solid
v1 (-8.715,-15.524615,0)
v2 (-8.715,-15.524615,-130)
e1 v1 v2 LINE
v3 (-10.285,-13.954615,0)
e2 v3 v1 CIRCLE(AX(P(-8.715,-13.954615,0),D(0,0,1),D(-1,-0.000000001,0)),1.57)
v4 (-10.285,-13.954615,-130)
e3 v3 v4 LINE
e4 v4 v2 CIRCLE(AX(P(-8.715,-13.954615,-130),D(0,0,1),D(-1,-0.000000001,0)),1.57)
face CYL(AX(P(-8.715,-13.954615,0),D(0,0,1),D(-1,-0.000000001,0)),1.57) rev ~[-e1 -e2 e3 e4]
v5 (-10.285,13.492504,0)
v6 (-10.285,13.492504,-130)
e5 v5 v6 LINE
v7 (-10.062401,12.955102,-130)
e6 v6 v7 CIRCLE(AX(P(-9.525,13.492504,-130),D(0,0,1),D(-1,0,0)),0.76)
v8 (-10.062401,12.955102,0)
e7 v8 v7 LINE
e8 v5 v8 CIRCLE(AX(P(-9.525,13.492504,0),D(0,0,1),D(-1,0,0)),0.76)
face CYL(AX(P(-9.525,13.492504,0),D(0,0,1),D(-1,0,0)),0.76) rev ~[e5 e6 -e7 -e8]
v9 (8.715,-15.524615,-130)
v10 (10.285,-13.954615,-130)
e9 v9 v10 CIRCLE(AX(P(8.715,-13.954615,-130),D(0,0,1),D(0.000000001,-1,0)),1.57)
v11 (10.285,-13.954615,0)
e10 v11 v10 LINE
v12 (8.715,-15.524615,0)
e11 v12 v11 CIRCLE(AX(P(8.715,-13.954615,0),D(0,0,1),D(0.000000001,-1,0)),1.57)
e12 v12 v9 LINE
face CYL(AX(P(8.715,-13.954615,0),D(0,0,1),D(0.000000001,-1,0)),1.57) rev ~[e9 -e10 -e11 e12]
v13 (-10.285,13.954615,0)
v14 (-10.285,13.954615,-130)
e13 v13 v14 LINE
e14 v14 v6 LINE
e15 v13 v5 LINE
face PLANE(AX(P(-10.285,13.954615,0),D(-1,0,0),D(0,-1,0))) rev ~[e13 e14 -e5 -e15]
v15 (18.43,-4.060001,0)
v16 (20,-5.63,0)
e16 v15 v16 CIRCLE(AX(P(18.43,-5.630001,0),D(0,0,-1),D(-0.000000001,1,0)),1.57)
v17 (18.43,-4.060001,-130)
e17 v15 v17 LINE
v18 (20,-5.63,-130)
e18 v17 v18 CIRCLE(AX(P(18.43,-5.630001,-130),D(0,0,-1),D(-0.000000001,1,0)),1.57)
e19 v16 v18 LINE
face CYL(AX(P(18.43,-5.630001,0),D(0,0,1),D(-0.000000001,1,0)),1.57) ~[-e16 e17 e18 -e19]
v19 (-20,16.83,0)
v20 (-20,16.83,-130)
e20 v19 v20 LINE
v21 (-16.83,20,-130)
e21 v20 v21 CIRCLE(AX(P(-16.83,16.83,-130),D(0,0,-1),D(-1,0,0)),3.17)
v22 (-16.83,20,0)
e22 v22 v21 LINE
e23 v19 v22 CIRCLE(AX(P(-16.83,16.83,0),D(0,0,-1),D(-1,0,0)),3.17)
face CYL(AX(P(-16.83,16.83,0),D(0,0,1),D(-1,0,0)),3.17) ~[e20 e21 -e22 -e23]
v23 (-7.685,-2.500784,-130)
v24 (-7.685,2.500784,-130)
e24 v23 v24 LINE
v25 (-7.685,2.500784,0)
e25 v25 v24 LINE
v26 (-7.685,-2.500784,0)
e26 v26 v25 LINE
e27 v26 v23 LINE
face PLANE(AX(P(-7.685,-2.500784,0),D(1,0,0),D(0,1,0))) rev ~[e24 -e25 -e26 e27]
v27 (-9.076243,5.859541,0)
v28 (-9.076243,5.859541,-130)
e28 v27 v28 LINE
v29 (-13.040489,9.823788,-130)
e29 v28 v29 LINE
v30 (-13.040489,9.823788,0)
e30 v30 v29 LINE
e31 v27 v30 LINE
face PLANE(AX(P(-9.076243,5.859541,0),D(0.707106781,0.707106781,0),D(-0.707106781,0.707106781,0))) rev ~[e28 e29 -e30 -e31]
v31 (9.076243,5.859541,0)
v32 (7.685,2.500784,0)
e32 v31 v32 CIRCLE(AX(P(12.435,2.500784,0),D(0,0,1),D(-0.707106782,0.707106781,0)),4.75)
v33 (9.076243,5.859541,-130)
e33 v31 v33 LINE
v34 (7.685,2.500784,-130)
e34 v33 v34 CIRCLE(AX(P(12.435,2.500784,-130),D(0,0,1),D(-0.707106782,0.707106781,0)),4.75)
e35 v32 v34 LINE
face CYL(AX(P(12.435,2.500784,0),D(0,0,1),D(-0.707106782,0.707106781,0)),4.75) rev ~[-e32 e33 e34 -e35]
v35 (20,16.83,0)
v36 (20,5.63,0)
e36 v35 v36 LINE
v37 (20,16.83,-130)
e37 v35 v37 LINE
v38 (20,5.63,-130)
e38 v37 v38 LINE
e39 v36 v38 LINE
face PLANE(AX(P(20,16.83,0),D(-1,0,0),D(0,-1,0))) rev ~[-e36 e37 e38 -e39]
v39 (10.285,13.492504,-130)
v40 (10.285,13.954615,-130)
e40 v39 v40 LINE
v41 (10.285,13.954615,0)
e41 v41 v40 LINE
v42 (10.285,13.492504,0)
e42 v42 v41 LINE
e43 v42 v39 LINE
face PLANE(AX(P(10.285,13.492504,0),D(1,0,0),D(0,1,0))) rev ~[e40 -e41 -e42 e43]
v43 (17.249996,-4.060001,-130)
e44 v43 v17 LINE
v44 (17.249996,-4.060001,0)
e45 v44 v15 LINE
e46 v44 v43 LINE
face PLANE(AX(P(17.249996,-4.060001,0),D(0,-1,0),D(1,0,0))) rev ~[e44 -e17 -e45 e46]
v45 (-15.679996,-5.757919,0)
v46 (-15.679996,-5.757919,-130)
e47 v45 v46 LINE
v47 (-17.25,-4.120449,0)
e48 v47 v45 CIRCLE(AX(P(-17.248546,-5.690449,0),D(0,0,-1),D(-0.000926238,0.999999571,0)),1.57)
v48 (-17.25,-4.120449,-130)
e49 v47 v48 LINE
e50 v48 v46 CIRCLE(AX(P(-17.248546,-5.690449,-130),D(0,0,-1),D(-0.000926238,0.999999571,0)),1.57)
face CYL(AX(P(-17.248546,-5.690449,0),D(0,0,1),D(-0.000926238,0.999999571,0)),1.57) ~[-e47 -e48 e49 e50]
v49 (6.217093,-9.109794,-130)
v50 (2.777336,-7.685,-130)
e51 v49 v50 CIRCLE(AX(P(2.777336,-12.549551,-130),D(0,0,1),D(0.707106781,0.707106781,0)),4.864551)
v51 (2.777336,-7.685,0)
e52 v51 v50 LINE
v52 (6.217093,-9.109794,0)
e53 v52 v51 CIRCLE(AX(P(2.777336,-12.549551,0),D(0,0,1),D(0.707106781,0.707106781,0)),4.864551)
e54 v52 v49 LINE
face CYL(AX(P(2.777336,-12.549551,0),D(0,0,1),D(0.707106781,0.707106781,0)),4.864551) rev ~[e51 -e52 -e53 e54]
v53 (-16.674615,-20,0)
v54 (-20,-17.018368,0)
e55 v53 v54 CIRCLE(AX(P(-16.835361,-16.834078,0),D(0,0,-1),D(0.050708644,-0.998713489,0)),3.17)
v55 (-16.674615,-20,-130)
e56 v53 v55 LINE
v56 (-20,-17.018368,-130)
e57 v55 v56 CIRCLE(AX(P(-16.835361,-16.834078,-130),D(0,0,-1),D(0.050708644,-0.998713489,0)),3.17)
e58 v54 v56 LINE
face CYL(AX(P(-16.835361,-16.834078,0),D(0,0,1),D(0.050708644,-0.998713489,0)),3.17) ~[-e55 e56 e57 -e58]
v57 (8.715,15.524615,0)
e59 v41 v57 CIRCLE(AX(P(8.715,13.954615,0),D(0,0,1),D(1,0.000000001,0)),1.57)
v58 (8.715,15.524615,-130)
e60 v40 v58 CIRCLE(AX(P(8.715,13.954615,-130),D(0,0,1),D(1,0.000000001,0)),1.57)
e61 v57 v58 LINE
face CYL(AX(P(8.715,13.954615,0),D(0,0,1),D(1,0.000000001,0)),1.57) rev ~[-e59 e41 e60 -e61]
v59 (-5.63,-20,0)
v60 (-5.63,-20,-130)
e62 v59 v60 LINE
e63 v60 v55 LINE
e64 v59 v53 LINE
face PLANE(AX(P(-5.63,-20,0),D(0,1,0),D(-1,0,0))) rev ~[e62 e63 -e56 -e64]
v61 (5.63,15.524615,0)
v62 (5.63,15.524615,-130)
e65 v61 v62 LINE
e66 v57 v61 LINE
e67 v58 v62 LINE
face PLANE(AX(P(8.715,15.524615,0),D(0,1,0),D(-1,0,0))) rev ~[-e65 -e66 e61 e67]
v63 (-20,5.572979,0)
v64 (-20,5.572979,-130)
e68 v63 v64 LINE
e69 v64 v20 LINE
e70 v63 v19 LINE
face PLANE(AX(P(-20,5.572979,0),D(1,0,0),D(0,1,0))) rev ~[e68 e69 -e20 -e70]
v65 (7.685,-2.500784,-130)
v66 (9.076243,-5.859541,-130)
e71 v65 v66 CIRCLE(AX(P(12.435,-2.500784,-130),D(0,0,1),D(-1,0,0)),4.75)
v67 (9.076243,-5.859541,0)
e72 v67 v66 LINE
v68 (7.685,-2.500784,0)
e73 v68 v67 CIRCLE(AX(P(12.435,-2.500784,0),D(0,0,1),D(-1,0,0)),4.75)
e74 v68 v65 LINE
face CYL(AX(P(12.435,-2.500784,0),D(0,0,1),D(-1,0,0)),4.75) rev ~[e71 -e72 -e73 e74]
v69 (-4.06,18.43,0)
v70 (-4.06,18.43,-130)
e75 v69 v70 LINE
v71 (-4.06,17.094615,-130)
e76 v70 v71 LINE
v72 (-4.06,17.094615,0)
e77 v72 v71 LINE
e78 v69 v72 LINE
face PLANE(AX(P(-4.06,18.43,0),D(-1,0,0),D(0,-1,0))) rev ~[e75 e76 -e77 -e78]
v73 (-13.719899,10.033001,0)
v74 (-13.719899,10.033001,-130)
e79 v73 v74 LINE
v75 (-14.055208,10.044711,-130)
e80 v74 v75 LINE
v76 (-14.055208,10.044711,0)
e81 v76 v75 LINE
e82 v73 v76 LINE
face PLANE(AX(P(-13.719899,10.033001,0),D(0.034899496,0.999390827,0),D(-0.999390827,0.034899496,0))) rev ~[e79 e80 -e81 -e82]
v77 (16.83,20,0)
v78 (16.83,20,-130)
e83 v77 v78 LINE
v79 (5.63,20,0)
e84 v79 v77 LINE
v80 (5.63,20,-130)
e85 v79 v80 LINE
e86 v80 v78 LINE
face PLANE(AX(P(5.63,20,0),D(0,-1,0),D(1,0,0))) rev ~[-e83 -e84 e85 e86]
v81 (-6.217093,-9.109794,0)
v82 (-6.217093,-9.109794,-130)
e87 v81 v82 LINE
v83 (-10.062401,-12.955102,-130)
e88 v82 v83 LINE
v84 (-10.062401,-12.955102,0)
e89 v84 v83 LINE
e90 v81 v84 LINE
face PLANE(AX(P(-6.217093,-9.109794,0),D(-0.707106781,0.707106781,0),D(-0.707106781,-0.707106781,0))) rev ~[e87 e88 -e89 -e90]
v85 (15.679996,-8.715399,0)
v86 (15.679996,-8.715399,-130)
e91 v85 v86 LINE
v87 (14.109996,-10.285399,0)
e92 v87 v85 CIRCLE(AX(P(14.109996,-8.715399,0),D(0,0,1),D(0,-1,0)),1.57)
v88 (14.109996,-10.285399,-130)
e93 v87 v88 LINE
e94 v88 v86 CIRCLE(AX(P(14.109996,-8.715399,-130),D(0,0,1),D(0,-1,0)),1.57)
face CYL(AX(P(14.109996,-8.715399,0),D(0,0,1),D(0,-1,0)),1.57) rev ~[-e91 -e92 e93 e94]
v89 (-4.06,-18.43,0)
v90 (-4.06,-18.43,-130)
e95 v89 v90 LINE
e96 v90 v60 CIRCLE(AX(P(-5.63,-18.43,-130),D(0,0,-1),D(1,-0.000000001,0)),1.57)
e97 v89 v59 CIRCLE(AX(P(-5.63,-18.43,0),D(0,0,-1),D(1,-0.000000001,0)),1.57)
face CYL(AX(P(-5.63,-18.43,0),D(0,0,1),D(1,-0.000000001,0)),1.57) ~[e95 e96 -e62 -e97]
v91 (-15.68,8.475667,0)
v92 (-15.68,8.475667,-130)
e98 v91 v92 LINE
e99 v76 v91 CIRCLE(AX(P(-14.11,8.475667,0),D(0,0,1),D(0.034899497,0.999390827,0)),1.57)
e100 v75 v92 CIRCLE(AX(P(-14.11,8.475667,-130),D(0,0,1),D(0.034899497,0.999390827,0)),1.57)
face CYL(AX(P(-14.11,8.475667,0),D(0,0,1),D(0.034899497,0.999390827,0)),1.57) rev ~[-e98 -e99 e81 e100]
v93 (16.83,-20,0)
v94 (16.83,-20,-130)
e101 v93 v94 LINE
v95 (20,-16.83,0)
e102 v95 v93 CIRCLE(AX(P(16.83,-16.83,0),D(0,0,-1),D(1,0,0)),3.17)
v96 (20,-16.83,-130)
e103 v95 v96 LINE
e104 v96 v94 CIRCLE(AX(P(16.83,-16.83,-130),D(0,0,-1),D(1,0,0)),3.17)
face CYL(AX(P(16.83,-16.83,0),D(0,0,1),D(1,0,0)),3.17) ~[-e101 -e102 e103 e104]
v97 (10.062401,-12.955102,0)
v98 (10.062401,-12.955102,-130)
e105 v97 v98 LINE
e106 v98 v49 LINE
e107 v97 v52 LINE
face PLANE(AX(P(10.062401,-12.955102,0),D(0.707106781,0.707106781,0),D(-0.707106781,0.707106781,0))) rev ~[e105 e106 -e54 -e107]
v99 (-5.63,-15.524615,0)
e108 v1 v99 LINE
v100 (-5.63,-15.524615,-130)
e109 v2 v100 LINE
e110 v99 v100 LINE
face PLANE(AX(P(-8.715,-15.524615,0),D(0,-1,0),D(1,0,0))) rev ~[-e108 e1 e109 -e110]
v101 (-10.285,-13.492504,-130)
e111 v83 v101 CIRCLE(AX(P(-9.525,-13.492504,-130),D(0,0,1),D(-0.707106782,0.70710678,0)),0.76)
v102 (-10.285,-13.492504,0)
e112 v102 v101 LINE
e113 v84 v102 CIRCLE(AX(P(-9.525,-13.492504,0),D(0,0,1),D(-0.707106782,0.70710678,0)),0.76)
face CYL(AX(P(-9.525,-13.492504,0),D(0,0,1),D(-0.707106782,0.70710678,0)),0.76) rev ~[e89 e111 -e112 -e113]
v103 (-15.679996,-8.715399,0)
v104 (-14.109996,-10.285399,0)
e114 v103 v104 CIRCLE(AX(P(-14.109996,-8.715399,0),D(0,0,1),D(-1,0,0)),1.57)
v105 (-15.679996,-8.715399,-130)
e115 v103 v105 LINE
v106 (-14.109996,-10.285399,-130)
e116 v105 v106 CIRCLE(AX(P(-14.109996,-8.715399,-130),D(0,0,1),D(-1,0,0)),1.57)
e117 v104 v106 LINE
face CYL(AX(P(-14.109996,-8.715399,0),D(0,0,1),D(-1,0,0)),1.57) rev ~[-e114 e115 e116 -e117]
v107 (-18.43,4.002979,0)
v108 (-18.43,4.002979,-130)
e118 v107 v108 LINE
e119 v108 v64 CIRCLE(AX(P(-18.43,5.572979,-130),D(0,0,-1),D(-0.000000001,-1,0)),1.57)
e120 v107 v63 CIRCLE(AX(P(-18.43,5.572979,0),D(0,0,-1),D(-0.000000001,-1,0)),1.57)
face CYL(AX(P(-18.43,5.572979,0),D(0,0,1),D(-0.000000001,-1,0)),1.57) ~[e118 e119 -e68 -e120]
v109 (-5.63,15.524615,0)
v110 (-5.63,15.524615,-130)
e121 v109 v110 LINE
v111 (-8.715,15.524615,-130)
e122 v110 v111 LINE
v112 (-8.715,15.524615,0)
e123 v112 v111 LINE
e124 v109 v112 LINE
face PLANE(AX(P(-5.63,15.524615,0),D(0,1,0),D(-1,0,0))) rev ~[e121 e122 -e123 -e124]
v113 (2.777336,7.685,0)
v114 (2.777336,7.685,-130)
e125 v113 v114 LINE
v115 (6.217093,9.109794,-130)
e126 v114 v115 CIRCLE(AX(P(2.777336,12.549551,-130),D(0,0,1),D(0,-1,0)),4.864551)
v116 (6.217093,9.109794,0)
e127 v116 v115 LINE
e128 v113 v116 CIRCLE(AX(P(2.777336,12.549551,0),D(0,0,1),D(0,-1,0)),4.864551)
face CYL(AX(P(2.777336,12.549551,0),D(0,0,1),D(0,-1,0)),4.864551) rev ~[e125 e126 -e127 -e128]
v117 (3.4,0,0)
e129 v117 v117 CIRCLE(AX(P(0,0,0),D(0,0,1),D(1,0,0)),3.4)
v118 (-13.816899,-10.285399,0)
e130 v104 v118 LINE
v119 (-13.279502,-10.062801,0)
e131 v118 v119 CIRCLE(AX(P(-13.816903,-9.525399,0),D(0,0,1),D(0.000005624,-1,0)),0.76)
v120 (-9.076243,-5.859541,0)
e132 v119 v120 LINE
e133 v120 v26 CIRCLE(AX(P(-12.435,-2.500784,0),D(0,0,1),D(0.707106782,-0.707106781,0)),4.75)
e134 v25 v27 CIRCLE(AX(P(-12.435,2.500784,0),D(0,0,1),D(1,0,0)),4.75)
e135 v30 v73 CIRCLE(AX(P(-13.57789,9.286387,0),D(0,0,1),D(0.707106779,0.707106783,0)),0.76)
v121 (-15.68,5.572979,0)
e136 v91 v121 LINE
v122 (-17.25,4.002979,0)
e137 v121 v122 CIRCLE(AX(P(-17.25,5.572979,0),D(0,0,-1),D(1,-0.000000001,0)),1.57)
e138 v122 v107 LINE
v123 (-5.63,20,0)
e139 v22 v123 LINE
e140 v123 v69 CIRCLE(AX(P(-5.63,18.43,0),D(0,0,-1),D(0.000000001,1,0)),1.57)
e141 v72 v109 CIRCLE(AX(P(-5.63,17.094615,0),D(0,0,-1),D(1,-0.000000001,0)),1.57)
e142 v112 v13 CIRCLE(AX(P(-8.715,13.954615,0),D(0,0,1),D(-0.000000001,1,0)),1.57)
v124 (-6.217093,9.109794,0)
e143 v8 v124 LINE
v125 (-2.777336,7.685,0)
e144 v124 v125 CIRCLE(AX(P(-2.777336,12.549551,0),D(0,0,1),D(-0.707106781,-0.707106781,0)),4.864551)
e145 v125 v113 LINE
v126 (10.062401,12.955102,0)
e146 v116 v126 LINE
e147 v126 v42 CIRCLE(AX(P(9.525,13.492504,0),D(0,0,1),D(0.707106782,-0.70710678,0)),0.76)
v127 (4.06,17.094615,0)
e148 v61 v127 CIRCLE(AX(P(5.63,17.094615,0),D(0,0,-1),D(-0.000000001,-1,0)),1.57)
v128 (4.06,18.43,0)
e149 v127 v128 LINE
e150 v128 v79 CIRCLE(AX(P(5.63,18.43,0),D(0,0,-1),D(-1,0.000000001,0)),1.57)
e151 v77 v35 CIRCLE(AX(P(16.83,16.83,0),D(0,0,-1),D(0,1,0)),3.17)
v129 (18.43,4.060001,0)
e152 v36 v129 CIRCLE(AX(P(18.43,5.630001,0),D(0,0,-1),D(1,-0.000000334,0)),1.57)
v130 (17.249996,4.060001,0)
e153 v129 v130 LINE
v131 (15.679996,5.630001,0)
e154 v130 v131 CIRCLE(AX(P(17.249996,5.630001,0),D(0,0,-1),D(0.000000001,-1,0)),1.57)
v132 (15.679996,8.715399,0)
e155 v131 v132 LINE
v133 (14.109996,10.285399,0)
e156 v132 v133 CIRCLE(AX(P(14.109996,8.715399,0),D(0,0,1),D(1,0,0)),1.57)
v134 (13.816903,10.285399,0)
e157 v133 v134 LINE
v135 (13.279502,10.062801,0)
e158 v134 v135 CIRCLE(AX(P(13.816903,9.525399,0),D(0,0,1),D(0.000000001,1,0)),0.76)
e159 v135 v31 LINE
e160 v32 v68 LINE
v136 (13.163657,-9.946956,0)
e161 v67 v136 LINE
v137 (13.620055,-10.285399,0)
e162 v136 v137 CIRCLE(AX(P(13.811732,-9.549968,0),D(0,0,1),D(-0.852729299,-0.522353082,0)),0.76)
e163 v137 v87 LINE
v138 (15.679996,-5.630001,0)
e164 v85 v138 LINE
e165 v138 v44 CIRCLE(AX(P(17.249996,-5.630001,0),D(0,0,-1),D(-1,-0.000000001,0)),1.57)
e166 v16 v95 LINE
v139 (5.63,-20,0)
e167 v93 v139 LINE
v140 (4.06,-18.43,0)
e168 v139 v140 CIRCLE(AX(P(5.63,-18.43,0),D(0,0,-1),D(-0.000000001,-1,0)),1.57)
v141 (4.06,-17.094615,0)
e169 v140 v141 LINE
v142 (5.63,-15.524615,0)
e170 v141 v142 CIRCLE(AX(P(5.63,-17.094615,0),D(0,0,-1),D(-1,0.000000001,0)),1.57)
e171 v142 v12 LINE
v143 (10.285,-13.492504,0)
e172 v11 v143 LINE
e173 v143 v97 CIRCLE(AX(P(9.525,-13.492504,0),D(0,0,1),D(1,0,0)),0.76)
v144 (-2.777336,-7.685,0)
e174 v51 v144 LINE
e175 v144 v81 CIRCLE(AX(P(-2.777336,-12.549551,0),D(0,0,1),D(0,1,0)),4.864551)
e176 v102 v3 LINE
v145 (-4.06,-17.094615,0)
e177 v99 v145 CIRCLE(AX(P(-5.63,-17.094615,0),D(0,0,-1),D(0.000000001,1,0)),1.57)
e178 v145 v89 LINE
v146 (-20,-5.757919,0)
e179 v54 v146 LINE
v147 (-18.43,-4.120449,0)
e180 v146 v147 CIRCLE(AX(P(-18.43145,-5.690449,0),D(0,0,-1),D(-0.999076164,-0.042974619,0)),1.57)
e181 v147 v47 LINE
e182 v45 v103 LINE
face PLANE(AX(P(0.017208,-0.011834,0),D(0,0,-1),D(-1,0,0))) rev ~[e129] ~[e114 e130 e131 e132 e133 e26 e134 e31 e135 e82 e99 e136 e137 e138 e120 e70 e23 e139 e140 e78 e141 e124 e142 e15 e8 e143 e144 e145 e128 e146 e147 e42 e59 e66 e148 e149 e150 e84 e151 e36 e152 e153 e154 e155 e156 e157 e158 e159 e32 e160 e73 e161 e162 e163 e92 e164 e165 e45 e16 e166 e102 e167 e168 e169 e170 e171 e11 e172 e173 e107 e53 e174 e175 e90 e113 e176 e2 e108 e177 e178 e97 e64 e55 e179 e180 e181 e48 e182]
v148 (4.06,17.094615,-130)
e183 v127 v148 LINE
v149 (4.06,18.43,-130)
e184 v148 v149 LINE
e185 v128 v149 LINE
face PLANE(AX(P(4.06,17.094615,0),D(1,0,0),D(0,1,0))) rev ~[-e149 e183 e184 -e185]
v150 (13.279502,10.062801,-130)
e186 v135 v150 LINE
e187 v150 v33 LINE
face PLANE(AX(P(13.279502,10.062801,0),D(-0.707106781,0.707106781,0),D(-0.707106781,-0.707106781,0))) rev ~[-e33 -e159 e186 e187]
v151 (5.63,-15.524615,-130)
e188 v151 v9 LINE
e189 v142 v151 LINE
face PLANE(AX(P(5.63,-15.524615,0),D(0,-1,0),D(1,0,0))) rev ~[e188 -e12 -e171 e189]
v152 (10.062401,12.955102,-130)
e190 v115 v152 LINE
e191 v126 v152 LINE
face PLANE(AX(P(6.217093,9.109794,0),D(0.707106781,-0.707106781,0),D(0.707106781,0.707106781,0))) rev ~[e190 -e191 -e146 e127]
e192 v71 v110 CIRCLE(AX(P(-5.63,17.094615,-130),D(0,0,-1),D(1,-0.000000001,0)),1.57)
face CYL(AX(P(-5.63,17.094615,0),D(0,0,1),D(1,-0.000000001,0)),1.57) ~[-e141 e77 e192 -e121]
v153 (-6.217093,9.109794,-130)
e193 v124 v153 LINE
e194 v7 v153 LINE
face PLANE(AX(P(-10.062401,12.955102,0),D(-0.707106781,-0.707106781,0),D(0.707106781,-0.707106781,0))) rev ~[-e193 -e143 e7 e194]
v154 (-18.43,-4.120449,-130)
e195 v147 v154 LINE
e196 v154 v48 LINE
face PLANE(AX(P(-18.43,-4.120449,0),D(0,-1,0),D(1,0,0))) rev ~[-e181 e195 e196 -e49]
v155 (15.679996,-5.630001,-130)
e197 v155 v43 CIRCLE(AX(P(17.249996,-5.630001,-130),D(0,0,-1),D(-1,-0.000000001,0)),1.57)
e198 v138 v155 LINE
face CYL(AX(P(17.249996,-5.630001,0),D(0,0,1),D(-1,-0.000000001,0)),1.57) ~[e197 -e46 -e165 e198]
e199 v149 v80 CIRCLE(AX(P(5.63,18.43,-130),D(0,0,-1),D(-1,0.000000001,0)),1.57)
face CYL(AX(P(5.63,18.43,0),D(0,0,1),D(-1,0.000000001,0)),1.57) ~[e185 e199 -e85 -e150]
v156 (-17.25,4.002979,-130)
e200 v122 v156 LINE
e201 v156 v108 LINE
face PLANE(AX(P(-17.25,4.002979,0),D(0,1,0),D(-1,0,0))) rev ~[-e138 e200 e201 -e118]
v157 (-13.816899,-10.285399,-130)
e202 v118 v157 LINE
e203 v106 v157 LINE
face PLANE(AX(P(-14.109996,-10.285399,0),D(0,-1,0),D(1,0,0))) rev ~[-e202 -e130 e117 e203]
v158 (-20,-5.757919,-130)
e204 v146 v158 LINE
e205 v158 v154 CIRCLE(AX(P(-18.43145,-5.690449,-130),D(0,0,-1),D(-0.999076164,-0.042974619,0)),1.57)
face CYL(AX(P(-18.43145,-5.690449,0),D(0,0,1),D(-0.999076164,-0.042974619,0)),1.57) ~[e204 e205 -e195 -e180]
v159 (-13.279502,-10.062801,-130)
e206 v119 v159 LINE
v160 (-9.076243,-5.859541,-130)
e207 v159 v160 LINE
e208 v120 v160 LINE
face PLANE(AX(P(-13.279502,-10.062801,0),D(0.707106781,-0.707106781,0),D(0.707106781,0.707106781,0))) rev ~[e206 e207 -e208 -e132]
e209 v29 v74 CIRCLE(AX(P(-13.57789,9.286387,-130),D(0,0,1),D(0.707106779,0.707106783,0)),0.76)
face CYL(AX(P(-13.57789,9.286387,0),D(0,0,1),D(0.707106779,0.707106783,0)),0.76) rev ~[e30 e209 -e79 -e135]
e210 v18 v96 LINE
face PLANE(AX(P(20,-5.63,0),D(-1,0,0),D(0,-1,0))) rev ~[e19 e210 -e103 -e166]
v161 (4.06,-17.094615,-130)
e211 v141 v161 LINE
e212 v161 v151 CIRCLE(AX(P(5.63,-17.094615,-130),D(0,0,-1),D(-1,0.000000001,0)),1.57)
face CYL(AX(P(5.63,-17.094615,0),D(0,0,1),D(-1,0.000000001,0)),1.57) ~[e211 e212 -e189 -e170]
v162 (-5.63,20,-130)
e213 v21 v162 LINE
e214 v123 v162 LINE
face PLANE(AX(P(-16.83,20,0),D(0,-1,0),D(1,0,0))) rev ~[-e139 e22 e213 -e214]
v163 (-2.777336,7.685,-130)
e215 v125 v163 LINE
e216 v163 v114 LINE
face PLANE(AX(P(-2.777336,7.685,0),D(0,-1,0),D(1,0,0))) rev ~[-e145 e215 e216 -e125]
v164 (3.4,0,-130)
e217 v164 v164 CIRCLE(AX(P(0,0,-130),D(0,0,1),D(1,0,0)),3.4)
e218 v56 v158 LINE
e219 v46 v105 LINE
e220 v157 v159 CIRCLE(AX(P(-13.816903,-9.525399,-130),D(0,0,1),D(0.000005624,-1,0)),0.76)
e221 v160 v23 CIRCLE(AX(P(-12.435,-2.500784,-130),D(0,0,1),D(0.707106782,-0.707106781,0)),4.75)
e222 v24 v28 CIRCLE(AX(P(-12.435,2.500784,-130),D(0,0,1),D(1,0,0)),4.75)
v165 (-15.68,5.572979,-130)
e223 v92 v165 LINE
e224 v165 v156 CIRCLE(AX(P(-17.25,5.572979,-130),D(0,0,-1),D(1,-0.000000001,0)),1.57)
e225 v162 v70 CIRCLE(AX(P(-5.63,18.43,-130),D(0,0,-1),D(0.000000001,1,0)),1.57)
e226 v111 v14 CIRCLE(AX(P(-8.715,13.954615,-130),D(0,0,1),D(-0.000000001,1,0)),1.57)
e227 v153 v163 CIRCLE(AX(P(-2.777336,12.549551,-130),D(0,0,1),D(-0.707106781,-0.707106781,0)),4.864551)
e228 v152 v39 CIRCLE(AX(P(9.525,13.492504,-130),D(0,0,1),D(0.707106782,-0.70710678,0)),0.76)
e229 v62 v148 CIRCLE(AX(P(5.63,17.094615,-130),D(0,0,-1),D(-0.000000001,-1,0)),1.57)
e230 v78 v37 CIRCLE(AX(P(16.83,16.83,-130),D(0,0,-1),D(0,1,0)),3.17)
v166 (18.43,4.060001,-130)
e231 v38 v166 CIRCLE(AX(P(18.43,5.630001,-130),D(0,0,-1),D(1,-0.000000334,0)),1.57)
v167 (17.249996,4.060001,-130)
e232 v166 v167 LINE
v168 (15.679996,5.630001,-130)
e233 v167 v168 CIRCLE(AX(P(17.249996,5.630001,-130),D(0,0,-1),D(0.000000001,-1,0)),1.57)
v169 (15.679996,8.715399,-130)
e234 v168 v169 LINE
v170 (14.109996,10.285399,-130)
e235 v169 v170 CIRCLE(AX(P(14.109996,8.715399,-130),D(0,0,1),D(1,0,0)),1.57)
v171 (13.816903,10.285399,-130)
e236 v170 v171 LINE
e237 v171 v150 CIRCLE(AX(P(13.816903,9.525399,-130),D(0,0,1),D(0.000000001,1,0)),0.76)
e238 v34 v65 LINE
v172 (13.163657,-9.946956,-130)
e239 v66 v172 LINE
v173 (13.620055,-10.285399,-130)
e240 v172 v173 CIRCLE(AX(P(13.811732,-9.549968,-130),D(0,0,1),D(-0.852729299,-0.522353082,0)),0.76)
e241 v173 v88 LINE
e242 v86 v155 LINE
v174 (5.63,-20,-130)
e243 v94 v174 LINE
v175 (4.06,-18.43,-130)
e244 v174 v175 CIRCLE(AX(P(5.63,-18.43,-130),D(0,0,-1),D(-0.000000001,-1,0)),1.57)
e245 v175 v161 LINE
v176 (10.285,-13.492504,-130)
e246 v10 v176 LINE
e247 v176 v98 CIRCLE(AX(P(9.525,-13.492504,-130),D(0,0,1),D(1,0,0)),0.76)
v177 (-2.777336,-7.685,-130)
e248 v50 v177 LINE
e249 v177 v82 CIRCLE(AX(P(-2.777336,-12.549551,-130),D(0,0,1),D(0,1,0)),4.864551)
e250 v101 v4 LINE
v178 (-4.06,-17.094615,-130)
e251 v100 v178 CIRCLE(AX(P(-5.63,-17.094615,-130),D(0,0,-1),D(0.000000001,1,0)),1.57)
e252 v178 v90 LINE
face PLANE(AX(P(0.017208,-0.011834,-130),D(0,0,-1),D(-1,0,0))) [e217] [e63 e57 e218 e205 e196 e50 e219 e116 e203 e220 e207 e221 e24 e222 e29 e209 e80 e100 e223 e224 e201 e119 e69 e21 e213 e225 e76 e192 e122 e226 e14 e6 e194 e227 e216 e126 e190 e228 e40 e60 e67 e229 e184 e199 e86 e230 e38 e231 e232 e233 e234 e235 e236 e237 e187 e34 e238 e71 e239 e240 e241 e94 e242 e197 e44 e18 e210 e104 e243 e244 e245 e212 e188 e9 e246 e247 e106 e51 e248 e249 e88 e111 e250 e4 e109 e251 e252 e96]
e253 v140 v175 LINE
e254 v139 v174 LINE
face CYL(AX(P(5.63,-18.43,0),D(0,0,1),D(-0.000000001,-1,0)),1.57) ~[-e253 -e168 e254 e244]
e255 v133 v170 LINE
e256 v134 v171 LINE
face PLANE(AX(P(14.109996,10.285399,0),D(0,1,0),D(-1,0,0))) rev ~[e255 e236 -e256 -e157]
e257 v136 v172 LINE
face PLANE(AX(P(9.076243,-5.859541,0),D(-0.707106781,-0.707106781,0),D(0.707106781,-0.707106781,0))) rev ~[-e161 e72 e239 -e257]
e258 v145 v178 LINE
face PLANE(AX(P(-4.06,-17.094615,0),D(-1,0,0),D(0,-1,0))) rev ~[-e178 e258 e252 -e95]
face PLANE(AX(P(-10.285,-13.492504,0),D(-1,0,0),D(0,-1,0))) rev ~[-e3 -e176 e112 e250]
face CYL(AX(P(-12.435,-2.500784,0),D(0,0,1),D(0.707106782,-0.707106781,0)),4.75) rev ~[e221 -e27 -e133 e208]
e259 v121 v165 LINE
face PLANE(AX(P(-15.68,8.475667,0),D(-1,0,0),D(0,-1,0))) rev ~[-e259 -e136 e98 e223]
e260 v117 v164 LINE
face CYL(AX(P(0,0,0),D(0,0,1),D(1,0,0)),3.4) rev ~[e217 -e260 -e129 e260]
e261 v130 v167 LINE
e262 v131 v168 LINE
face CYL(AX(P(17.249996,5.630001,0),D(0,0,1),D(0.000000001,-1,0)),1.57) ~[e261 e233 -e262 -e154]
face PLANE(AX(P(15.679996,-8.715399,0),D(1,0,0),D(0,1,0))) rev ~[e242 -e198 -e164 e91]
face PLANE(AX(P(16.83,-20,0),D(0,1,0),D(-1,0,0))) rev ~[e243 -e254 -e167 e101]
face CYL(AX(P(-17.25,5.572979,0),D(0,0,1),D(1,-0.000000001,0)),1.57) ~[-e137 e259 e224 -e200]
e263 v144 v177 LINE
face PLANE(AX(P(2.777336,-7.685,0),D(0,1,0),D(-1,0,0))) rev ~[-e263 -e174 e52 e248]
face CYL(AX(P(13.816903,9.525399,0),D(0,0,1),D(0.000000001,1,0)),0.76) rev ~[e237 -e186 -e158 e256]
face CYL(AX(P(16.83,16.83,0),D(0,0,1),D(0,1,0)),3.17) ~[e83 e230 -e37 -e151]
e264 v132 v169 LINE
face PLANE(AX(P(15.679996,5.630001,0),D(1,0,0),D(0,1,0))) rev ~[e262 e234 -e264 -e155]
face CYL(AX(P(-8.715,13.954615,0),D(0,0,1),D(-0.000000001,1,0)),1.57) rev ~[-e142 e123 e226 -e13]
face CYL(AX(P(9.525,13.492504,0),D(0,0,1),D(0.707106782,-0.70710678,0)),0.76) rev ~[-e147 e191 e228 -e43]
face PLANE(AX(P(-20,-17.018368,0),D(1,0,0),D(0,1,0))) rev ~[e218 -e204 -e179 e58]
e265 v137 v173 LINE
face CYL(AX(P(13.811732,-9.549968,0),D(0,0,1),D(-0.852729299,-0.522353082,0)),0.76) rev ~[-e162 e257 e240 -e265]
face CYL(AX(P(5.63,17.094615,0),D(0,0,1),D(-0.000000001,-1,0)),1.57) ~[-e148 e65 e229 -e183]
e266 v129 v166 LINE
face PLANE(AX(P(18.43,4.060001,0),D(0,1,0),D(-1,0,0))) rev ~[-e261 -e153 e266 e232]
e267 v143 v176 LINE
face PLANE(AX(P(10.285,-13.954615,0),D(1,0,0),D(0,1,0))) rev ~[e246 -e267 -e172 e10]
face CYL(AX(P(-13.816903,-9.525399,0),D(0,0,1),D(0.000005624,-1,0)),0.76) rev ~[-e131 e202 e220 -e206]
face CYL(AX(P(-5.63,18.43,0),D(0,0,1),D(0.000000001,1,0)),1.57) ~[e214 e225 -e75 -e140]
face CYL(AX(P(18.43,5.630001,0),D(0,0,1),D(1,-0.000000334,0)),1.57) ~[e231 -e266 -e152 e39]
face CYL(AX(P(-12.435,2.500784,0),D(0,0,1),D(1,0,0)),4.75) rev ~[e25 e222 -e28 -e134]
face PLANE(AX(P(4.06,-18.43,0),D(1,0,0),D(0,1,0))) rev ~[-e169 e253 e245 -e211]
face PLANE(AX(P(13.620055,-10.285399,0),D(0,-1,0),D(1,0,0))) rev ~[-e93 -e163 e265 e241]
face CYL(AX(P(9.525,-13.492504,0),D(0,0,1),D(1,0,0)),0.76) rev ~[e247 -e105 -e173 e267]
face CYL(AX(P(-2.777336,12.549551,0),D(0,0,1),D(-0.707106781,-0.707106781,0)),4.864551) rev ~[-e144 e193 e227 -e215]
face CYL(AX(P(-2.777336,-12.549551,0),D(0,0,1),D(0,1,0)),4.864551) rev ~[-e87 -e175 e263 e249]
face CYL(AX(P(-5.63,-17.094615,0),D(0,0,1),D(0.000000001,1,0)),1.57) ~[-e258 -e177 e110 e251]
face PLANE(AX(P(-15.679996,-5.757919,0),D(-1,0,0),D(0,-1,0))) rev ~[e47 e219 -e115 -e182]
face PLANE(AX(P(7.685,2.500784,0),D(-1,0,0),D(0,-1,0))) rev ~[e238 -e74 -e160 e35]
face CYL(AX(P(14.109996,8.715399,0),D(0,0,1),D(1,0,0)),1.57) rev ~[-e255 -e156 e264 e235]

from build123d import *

# Parameters (mm, degrees)
SKETCH1_R      = 3.4
EXTRUDE1_DEPTH = 130


with BuildPart() as part:
    # Sketch1 → Extrude1 (new body)
    with BuildSketch(Plane.XY):
        with BuildLine():
            Line((-8.715, -15.524615034), (-5.63, -15.524615034))
            ThreePointArc((-5.63, -15.524615034), (-4.519842354, -15.984457388), (-4.06, -17.094615034))
            Line((-4.06, -17.094615034), (-4.06, -18.43))
            ThreePointArc((-4.06, -18.43), (-4.519842354, -19.540157646), (-5.63, -20))
            Line((-5.63, -20), (-16.674615034, -20))
            ThreePointArc((-16.674615034, -20), (-18.951578385, -19.194274381), (-20, -17.018368134))
            Line((-20, -17.018368134), (-20, -5.757918808))
            ThreePointArc((-20, -5.757918808), (-19.564709668, -4.603883664), (-18.43, -4.120449326))
            Line((-18.43, -4.120449326), (-17.25, -4.120449326))
            ThreePointArc((-17.25, -4.120449326), (-16.115287682, -4.60388249), (-15.67999625, -5.757919334))
            Line((-15.67999625, -5.757919334), (-15.67999625, -8.715399492))
            ThreePointArc((-15.67999625, -8.715399492), (-15.220153896, -9.825557139), (-14.10999625, -10.285399492))
            Line((-14.10999625, -10.285399492), (-13.816898819, -10.285399492))
            ThreePointArc((-13.816898819, -10.285399492), (-13.526061711, -10.227547119), (-13.279501941, -10.062800646))
            Line((-13.279501941, -10.062800646), (-9.076242789, -5.859541495))
            ThreePointArc((-9.076242789, -5.859541495), (-8.046572221, -4.318530588), (-7.685, -2.500784284))
            Line((-7.685, -2.500784284), (-7.685, 2.500784284))
            ThreePointArc((-7.685, 2.500784284), (-8.046572221, 4.318530588), (-9.076242789, 5.859541495))
            Line((-9.076242789, 5.859541495), (-13.040489136, 9.823787841))
            ThreePointArc((-13.040489136, 9.823787841), (-13.354224618, 10.012729352), (-13.71989919, 10.033001362))
            Line((-13.71989919, 10.033001362), (-14.05520779, 10.044710596))
            ThreePointArc((-14.05520779, 10.044710596), (-15.200613642, 9.605030484), (-15.68, 8.475666998))
            Line((-15.68, 8.475666998), (-15.68, 5.572979049))
            ThreePointArc((-15.68, 5.572979049), (-16.139842354, 4.462821403), (-17.25, 4.002979049))
            Line((-17.25, 4.002979049), (-18.43, 4.002979049))
            ThreePointArc((-18.43, 4.002979049), (-19.540157646, 4.462821403), (-20, 5.572979049))
            Line((-20, 5.572979049), (-20, 13.004526564))
            Line((-20, 13.004526564), (-20, 16.83))
            ThreePointArc((-20, 16.83), (-19.071528496, 19.071528496), (-16.83, 20))
            Line((-16.83, 20), (-5.63, 20))
            ThreePointArc((-5.63, 20), (-4.519842354, 19.540157646), (-4.06, 18.43))
            Line((-4.06, 18.43), (-4.06, 17.094615034))
            ThreePointArc((-4.06, 17.094615034), (-4.519842354, 15.984457388), (-5.63, 15.524615034))
            Line((-5.63, 15.524615034), (-8.715, 15.524615034))
            ThreePointArc((-8.715, 15.524615034), (-9.825157646, 15.06477268), (-10.285, 13.954615034))
            Line((-10.285, 13.954615034), (-10.285, 13.492503602))
            ThreePointArc((-10.285, 13.492503602), (-10.227148445, 13.201664194), (-10.062401154, 12.955102448))
            Line((-10.062401154, 12.955102448), (-6.217092793, 9.109794088))
            ThreePointArc((-6.217092793, 9.109794088), (-4.63891877, 8.055291919), (-2.777335583, 7.685))
            Line((-2.777335583, 7.685), (2.777335583, 7.685))
            ThreePointArc((2.777335583, 7.685), (4.63891877, 8.055291919), (6.217092793, 9.109794088))
            Line((6.217092793, 9.109794088), (10.062401154, 12.955102448))
            ThreePointArc((10.062401154, 12.955102448), (10.227148445, 13.201664194), (10.285, 13.492503602))
            Line((10.285, 13.492503602), (10.285, 13.954615034))
            ThreePointArc((10.285, 13.954615034), (9.825157646, 15.06477268), (8.715, 15.524615034))
            Line((8.715, 15.524615034), (5.63, 15.524615034))
            ThreePointArc((5.63, 15.524615034), (4.519842354, 15.984457388), (4.06, 17.094615034))
            Line((4.06, 17.094615034), (4.06, 18.43))
            ThreePointArc((4.06, 18.43), (4.519842354, 19.540157646), (5.63, 20))
            Line((5.63, 20), (12.979635074, 20))
            Line((12.979635074, 20), (16.83, 20))
            ThreePointArc((16.83, 20), (19.071528496, 19.071528496), (20, 16.83))
            Line((20, 16.83), (20, 13.001098436))
            Line((20, 13.001098436), (20, 5.63))
            ThreePointArc((20, 5.63), (19.540157461, 4.519842693), (18.43, 4.060000526))
            Line((18.43, 4.060000526), (17.24999625, 4.060000526))
            ThreePointArc((17.24999625, 4.060000526), (16.139838603, 4.519842879), (15.67999625, 5.630000526))
            Line((15.67999625, 5.630000526), (15.67999625, 8.715399492))
            ThreePointArc((15.67999625, 8.715399492), (15.220153896, 9.825557139), (14.10999625, 10.285399492))
            Line((14.10999625, 10.285399492), (13.816903094, 10.285399492))
            ThreePointArc((13.816903094, 10.285399492), (13.526063686, 10.227547937), (13.279501941, 10.062800646))
            Line((13.279501941, 10.062800646), (9.076242789, 5.859541495))
            ThreePointArc((9.076242789, 5.859541495), (8.046572221, 4.318530588), (7.685, 2.500784284))
            Line((7.685, 2.500784284), (7.685, -2.500784284))
            ThreePointArc((7.685, -2.500784284), (8.046572221, -4.318530588), (9.076242789, -5.859541495))
            Line((9.076242789, -5.859541495), (13.163657296, -9.946956002))
            ThreePointArc((13.163657296, -9.946956002), (13.35903797, -10.160433474), (13.6200547, -10.285399492))
            Line((13.6200547, -10.285399492), (14.10999625, -10.285399492))
            ThreePointArc((14.10999625, -10.285399492), (15.220153896, -9.825557139), (15.67999625, -8.715399492))
            Line((15.67999625, -8.715399492), (15.67999625, -5.630000526))
            ThreePointArc((15.67999625, -5.630000526), (16.139838603, -4.519842879), (17.24999625, -4.060000526))
            Line((17.24999625, -4.060000526), (18.43, -4.060000526))
            ThreePointArc((18.43, -4.060000526), (19.540157461, -4.519842693), (20, -5.63))
            Line((20, -5.63), (20, -16.83))
            ThreePointArc((20, -16.83), (19.071528496, -19.071528496), (16.83, -20))
            Line((16.83, -20), (13, -20))
            Line((13, -20), (5.63, -20))
            ThreePointArc((5.63, -20), (4.519842354, -19.540157646), (4.06, -18.43))
            Line((4.06, -18.43), (4.06, -17.094615034))
            ThreePointArc((4.06, -17.094615034), (4.519842354, -15.984457388), (5.63, -15.524615034))
            Line((5.63, -15.524615034), (8.715, -15.524615034))
            ThreePointArc((8.715, -15.524615034), (9.825157646, -15.06477268), (10.285, -13.954615034))
            Line((10.285, -13.954615034), (10.285, -13.492503602))
            ThreePointArc((10.285, -13.492503602), (10.227148445, -13.201664194), (10.062401154, -12.955102448))
            Line((10.062401154, -12.955102448), (6.217092793, -9.109794088))
            ThreePointArc((6.217092793, -9.109794088), (4.63891877, -8.055291919), (2.777335583, -7.685))
            Line((2.777335583, -7.685), (-2.777335583, -7.685))
            ThreePointArc((-2.777335583, -7.685), (-4.63891877, -8.055291919), (-6.217092793, -9.109794088))
            Line((-6.217092793, -9.109794088), (-10.062401154, -12.955102448))
            ThreePointArc((-10.062401154, -12.955102448), (-10.227148445, -13.201664194), (-10.285, -13.492503602))
            Line((-10.285, -13.492503602), (-10.285, -13.954615034))
            ThreePointArc((-10.285, -13.954615034), (-9.825157646, -15.06477268), (-8.715, -15.524615034))
        make_face()
        Circle(SKETCH1_R, mode=Mode.SUBTRACT)
    extrude(amount=-EXTRUDE1_DEPTH)


solid = part.part
